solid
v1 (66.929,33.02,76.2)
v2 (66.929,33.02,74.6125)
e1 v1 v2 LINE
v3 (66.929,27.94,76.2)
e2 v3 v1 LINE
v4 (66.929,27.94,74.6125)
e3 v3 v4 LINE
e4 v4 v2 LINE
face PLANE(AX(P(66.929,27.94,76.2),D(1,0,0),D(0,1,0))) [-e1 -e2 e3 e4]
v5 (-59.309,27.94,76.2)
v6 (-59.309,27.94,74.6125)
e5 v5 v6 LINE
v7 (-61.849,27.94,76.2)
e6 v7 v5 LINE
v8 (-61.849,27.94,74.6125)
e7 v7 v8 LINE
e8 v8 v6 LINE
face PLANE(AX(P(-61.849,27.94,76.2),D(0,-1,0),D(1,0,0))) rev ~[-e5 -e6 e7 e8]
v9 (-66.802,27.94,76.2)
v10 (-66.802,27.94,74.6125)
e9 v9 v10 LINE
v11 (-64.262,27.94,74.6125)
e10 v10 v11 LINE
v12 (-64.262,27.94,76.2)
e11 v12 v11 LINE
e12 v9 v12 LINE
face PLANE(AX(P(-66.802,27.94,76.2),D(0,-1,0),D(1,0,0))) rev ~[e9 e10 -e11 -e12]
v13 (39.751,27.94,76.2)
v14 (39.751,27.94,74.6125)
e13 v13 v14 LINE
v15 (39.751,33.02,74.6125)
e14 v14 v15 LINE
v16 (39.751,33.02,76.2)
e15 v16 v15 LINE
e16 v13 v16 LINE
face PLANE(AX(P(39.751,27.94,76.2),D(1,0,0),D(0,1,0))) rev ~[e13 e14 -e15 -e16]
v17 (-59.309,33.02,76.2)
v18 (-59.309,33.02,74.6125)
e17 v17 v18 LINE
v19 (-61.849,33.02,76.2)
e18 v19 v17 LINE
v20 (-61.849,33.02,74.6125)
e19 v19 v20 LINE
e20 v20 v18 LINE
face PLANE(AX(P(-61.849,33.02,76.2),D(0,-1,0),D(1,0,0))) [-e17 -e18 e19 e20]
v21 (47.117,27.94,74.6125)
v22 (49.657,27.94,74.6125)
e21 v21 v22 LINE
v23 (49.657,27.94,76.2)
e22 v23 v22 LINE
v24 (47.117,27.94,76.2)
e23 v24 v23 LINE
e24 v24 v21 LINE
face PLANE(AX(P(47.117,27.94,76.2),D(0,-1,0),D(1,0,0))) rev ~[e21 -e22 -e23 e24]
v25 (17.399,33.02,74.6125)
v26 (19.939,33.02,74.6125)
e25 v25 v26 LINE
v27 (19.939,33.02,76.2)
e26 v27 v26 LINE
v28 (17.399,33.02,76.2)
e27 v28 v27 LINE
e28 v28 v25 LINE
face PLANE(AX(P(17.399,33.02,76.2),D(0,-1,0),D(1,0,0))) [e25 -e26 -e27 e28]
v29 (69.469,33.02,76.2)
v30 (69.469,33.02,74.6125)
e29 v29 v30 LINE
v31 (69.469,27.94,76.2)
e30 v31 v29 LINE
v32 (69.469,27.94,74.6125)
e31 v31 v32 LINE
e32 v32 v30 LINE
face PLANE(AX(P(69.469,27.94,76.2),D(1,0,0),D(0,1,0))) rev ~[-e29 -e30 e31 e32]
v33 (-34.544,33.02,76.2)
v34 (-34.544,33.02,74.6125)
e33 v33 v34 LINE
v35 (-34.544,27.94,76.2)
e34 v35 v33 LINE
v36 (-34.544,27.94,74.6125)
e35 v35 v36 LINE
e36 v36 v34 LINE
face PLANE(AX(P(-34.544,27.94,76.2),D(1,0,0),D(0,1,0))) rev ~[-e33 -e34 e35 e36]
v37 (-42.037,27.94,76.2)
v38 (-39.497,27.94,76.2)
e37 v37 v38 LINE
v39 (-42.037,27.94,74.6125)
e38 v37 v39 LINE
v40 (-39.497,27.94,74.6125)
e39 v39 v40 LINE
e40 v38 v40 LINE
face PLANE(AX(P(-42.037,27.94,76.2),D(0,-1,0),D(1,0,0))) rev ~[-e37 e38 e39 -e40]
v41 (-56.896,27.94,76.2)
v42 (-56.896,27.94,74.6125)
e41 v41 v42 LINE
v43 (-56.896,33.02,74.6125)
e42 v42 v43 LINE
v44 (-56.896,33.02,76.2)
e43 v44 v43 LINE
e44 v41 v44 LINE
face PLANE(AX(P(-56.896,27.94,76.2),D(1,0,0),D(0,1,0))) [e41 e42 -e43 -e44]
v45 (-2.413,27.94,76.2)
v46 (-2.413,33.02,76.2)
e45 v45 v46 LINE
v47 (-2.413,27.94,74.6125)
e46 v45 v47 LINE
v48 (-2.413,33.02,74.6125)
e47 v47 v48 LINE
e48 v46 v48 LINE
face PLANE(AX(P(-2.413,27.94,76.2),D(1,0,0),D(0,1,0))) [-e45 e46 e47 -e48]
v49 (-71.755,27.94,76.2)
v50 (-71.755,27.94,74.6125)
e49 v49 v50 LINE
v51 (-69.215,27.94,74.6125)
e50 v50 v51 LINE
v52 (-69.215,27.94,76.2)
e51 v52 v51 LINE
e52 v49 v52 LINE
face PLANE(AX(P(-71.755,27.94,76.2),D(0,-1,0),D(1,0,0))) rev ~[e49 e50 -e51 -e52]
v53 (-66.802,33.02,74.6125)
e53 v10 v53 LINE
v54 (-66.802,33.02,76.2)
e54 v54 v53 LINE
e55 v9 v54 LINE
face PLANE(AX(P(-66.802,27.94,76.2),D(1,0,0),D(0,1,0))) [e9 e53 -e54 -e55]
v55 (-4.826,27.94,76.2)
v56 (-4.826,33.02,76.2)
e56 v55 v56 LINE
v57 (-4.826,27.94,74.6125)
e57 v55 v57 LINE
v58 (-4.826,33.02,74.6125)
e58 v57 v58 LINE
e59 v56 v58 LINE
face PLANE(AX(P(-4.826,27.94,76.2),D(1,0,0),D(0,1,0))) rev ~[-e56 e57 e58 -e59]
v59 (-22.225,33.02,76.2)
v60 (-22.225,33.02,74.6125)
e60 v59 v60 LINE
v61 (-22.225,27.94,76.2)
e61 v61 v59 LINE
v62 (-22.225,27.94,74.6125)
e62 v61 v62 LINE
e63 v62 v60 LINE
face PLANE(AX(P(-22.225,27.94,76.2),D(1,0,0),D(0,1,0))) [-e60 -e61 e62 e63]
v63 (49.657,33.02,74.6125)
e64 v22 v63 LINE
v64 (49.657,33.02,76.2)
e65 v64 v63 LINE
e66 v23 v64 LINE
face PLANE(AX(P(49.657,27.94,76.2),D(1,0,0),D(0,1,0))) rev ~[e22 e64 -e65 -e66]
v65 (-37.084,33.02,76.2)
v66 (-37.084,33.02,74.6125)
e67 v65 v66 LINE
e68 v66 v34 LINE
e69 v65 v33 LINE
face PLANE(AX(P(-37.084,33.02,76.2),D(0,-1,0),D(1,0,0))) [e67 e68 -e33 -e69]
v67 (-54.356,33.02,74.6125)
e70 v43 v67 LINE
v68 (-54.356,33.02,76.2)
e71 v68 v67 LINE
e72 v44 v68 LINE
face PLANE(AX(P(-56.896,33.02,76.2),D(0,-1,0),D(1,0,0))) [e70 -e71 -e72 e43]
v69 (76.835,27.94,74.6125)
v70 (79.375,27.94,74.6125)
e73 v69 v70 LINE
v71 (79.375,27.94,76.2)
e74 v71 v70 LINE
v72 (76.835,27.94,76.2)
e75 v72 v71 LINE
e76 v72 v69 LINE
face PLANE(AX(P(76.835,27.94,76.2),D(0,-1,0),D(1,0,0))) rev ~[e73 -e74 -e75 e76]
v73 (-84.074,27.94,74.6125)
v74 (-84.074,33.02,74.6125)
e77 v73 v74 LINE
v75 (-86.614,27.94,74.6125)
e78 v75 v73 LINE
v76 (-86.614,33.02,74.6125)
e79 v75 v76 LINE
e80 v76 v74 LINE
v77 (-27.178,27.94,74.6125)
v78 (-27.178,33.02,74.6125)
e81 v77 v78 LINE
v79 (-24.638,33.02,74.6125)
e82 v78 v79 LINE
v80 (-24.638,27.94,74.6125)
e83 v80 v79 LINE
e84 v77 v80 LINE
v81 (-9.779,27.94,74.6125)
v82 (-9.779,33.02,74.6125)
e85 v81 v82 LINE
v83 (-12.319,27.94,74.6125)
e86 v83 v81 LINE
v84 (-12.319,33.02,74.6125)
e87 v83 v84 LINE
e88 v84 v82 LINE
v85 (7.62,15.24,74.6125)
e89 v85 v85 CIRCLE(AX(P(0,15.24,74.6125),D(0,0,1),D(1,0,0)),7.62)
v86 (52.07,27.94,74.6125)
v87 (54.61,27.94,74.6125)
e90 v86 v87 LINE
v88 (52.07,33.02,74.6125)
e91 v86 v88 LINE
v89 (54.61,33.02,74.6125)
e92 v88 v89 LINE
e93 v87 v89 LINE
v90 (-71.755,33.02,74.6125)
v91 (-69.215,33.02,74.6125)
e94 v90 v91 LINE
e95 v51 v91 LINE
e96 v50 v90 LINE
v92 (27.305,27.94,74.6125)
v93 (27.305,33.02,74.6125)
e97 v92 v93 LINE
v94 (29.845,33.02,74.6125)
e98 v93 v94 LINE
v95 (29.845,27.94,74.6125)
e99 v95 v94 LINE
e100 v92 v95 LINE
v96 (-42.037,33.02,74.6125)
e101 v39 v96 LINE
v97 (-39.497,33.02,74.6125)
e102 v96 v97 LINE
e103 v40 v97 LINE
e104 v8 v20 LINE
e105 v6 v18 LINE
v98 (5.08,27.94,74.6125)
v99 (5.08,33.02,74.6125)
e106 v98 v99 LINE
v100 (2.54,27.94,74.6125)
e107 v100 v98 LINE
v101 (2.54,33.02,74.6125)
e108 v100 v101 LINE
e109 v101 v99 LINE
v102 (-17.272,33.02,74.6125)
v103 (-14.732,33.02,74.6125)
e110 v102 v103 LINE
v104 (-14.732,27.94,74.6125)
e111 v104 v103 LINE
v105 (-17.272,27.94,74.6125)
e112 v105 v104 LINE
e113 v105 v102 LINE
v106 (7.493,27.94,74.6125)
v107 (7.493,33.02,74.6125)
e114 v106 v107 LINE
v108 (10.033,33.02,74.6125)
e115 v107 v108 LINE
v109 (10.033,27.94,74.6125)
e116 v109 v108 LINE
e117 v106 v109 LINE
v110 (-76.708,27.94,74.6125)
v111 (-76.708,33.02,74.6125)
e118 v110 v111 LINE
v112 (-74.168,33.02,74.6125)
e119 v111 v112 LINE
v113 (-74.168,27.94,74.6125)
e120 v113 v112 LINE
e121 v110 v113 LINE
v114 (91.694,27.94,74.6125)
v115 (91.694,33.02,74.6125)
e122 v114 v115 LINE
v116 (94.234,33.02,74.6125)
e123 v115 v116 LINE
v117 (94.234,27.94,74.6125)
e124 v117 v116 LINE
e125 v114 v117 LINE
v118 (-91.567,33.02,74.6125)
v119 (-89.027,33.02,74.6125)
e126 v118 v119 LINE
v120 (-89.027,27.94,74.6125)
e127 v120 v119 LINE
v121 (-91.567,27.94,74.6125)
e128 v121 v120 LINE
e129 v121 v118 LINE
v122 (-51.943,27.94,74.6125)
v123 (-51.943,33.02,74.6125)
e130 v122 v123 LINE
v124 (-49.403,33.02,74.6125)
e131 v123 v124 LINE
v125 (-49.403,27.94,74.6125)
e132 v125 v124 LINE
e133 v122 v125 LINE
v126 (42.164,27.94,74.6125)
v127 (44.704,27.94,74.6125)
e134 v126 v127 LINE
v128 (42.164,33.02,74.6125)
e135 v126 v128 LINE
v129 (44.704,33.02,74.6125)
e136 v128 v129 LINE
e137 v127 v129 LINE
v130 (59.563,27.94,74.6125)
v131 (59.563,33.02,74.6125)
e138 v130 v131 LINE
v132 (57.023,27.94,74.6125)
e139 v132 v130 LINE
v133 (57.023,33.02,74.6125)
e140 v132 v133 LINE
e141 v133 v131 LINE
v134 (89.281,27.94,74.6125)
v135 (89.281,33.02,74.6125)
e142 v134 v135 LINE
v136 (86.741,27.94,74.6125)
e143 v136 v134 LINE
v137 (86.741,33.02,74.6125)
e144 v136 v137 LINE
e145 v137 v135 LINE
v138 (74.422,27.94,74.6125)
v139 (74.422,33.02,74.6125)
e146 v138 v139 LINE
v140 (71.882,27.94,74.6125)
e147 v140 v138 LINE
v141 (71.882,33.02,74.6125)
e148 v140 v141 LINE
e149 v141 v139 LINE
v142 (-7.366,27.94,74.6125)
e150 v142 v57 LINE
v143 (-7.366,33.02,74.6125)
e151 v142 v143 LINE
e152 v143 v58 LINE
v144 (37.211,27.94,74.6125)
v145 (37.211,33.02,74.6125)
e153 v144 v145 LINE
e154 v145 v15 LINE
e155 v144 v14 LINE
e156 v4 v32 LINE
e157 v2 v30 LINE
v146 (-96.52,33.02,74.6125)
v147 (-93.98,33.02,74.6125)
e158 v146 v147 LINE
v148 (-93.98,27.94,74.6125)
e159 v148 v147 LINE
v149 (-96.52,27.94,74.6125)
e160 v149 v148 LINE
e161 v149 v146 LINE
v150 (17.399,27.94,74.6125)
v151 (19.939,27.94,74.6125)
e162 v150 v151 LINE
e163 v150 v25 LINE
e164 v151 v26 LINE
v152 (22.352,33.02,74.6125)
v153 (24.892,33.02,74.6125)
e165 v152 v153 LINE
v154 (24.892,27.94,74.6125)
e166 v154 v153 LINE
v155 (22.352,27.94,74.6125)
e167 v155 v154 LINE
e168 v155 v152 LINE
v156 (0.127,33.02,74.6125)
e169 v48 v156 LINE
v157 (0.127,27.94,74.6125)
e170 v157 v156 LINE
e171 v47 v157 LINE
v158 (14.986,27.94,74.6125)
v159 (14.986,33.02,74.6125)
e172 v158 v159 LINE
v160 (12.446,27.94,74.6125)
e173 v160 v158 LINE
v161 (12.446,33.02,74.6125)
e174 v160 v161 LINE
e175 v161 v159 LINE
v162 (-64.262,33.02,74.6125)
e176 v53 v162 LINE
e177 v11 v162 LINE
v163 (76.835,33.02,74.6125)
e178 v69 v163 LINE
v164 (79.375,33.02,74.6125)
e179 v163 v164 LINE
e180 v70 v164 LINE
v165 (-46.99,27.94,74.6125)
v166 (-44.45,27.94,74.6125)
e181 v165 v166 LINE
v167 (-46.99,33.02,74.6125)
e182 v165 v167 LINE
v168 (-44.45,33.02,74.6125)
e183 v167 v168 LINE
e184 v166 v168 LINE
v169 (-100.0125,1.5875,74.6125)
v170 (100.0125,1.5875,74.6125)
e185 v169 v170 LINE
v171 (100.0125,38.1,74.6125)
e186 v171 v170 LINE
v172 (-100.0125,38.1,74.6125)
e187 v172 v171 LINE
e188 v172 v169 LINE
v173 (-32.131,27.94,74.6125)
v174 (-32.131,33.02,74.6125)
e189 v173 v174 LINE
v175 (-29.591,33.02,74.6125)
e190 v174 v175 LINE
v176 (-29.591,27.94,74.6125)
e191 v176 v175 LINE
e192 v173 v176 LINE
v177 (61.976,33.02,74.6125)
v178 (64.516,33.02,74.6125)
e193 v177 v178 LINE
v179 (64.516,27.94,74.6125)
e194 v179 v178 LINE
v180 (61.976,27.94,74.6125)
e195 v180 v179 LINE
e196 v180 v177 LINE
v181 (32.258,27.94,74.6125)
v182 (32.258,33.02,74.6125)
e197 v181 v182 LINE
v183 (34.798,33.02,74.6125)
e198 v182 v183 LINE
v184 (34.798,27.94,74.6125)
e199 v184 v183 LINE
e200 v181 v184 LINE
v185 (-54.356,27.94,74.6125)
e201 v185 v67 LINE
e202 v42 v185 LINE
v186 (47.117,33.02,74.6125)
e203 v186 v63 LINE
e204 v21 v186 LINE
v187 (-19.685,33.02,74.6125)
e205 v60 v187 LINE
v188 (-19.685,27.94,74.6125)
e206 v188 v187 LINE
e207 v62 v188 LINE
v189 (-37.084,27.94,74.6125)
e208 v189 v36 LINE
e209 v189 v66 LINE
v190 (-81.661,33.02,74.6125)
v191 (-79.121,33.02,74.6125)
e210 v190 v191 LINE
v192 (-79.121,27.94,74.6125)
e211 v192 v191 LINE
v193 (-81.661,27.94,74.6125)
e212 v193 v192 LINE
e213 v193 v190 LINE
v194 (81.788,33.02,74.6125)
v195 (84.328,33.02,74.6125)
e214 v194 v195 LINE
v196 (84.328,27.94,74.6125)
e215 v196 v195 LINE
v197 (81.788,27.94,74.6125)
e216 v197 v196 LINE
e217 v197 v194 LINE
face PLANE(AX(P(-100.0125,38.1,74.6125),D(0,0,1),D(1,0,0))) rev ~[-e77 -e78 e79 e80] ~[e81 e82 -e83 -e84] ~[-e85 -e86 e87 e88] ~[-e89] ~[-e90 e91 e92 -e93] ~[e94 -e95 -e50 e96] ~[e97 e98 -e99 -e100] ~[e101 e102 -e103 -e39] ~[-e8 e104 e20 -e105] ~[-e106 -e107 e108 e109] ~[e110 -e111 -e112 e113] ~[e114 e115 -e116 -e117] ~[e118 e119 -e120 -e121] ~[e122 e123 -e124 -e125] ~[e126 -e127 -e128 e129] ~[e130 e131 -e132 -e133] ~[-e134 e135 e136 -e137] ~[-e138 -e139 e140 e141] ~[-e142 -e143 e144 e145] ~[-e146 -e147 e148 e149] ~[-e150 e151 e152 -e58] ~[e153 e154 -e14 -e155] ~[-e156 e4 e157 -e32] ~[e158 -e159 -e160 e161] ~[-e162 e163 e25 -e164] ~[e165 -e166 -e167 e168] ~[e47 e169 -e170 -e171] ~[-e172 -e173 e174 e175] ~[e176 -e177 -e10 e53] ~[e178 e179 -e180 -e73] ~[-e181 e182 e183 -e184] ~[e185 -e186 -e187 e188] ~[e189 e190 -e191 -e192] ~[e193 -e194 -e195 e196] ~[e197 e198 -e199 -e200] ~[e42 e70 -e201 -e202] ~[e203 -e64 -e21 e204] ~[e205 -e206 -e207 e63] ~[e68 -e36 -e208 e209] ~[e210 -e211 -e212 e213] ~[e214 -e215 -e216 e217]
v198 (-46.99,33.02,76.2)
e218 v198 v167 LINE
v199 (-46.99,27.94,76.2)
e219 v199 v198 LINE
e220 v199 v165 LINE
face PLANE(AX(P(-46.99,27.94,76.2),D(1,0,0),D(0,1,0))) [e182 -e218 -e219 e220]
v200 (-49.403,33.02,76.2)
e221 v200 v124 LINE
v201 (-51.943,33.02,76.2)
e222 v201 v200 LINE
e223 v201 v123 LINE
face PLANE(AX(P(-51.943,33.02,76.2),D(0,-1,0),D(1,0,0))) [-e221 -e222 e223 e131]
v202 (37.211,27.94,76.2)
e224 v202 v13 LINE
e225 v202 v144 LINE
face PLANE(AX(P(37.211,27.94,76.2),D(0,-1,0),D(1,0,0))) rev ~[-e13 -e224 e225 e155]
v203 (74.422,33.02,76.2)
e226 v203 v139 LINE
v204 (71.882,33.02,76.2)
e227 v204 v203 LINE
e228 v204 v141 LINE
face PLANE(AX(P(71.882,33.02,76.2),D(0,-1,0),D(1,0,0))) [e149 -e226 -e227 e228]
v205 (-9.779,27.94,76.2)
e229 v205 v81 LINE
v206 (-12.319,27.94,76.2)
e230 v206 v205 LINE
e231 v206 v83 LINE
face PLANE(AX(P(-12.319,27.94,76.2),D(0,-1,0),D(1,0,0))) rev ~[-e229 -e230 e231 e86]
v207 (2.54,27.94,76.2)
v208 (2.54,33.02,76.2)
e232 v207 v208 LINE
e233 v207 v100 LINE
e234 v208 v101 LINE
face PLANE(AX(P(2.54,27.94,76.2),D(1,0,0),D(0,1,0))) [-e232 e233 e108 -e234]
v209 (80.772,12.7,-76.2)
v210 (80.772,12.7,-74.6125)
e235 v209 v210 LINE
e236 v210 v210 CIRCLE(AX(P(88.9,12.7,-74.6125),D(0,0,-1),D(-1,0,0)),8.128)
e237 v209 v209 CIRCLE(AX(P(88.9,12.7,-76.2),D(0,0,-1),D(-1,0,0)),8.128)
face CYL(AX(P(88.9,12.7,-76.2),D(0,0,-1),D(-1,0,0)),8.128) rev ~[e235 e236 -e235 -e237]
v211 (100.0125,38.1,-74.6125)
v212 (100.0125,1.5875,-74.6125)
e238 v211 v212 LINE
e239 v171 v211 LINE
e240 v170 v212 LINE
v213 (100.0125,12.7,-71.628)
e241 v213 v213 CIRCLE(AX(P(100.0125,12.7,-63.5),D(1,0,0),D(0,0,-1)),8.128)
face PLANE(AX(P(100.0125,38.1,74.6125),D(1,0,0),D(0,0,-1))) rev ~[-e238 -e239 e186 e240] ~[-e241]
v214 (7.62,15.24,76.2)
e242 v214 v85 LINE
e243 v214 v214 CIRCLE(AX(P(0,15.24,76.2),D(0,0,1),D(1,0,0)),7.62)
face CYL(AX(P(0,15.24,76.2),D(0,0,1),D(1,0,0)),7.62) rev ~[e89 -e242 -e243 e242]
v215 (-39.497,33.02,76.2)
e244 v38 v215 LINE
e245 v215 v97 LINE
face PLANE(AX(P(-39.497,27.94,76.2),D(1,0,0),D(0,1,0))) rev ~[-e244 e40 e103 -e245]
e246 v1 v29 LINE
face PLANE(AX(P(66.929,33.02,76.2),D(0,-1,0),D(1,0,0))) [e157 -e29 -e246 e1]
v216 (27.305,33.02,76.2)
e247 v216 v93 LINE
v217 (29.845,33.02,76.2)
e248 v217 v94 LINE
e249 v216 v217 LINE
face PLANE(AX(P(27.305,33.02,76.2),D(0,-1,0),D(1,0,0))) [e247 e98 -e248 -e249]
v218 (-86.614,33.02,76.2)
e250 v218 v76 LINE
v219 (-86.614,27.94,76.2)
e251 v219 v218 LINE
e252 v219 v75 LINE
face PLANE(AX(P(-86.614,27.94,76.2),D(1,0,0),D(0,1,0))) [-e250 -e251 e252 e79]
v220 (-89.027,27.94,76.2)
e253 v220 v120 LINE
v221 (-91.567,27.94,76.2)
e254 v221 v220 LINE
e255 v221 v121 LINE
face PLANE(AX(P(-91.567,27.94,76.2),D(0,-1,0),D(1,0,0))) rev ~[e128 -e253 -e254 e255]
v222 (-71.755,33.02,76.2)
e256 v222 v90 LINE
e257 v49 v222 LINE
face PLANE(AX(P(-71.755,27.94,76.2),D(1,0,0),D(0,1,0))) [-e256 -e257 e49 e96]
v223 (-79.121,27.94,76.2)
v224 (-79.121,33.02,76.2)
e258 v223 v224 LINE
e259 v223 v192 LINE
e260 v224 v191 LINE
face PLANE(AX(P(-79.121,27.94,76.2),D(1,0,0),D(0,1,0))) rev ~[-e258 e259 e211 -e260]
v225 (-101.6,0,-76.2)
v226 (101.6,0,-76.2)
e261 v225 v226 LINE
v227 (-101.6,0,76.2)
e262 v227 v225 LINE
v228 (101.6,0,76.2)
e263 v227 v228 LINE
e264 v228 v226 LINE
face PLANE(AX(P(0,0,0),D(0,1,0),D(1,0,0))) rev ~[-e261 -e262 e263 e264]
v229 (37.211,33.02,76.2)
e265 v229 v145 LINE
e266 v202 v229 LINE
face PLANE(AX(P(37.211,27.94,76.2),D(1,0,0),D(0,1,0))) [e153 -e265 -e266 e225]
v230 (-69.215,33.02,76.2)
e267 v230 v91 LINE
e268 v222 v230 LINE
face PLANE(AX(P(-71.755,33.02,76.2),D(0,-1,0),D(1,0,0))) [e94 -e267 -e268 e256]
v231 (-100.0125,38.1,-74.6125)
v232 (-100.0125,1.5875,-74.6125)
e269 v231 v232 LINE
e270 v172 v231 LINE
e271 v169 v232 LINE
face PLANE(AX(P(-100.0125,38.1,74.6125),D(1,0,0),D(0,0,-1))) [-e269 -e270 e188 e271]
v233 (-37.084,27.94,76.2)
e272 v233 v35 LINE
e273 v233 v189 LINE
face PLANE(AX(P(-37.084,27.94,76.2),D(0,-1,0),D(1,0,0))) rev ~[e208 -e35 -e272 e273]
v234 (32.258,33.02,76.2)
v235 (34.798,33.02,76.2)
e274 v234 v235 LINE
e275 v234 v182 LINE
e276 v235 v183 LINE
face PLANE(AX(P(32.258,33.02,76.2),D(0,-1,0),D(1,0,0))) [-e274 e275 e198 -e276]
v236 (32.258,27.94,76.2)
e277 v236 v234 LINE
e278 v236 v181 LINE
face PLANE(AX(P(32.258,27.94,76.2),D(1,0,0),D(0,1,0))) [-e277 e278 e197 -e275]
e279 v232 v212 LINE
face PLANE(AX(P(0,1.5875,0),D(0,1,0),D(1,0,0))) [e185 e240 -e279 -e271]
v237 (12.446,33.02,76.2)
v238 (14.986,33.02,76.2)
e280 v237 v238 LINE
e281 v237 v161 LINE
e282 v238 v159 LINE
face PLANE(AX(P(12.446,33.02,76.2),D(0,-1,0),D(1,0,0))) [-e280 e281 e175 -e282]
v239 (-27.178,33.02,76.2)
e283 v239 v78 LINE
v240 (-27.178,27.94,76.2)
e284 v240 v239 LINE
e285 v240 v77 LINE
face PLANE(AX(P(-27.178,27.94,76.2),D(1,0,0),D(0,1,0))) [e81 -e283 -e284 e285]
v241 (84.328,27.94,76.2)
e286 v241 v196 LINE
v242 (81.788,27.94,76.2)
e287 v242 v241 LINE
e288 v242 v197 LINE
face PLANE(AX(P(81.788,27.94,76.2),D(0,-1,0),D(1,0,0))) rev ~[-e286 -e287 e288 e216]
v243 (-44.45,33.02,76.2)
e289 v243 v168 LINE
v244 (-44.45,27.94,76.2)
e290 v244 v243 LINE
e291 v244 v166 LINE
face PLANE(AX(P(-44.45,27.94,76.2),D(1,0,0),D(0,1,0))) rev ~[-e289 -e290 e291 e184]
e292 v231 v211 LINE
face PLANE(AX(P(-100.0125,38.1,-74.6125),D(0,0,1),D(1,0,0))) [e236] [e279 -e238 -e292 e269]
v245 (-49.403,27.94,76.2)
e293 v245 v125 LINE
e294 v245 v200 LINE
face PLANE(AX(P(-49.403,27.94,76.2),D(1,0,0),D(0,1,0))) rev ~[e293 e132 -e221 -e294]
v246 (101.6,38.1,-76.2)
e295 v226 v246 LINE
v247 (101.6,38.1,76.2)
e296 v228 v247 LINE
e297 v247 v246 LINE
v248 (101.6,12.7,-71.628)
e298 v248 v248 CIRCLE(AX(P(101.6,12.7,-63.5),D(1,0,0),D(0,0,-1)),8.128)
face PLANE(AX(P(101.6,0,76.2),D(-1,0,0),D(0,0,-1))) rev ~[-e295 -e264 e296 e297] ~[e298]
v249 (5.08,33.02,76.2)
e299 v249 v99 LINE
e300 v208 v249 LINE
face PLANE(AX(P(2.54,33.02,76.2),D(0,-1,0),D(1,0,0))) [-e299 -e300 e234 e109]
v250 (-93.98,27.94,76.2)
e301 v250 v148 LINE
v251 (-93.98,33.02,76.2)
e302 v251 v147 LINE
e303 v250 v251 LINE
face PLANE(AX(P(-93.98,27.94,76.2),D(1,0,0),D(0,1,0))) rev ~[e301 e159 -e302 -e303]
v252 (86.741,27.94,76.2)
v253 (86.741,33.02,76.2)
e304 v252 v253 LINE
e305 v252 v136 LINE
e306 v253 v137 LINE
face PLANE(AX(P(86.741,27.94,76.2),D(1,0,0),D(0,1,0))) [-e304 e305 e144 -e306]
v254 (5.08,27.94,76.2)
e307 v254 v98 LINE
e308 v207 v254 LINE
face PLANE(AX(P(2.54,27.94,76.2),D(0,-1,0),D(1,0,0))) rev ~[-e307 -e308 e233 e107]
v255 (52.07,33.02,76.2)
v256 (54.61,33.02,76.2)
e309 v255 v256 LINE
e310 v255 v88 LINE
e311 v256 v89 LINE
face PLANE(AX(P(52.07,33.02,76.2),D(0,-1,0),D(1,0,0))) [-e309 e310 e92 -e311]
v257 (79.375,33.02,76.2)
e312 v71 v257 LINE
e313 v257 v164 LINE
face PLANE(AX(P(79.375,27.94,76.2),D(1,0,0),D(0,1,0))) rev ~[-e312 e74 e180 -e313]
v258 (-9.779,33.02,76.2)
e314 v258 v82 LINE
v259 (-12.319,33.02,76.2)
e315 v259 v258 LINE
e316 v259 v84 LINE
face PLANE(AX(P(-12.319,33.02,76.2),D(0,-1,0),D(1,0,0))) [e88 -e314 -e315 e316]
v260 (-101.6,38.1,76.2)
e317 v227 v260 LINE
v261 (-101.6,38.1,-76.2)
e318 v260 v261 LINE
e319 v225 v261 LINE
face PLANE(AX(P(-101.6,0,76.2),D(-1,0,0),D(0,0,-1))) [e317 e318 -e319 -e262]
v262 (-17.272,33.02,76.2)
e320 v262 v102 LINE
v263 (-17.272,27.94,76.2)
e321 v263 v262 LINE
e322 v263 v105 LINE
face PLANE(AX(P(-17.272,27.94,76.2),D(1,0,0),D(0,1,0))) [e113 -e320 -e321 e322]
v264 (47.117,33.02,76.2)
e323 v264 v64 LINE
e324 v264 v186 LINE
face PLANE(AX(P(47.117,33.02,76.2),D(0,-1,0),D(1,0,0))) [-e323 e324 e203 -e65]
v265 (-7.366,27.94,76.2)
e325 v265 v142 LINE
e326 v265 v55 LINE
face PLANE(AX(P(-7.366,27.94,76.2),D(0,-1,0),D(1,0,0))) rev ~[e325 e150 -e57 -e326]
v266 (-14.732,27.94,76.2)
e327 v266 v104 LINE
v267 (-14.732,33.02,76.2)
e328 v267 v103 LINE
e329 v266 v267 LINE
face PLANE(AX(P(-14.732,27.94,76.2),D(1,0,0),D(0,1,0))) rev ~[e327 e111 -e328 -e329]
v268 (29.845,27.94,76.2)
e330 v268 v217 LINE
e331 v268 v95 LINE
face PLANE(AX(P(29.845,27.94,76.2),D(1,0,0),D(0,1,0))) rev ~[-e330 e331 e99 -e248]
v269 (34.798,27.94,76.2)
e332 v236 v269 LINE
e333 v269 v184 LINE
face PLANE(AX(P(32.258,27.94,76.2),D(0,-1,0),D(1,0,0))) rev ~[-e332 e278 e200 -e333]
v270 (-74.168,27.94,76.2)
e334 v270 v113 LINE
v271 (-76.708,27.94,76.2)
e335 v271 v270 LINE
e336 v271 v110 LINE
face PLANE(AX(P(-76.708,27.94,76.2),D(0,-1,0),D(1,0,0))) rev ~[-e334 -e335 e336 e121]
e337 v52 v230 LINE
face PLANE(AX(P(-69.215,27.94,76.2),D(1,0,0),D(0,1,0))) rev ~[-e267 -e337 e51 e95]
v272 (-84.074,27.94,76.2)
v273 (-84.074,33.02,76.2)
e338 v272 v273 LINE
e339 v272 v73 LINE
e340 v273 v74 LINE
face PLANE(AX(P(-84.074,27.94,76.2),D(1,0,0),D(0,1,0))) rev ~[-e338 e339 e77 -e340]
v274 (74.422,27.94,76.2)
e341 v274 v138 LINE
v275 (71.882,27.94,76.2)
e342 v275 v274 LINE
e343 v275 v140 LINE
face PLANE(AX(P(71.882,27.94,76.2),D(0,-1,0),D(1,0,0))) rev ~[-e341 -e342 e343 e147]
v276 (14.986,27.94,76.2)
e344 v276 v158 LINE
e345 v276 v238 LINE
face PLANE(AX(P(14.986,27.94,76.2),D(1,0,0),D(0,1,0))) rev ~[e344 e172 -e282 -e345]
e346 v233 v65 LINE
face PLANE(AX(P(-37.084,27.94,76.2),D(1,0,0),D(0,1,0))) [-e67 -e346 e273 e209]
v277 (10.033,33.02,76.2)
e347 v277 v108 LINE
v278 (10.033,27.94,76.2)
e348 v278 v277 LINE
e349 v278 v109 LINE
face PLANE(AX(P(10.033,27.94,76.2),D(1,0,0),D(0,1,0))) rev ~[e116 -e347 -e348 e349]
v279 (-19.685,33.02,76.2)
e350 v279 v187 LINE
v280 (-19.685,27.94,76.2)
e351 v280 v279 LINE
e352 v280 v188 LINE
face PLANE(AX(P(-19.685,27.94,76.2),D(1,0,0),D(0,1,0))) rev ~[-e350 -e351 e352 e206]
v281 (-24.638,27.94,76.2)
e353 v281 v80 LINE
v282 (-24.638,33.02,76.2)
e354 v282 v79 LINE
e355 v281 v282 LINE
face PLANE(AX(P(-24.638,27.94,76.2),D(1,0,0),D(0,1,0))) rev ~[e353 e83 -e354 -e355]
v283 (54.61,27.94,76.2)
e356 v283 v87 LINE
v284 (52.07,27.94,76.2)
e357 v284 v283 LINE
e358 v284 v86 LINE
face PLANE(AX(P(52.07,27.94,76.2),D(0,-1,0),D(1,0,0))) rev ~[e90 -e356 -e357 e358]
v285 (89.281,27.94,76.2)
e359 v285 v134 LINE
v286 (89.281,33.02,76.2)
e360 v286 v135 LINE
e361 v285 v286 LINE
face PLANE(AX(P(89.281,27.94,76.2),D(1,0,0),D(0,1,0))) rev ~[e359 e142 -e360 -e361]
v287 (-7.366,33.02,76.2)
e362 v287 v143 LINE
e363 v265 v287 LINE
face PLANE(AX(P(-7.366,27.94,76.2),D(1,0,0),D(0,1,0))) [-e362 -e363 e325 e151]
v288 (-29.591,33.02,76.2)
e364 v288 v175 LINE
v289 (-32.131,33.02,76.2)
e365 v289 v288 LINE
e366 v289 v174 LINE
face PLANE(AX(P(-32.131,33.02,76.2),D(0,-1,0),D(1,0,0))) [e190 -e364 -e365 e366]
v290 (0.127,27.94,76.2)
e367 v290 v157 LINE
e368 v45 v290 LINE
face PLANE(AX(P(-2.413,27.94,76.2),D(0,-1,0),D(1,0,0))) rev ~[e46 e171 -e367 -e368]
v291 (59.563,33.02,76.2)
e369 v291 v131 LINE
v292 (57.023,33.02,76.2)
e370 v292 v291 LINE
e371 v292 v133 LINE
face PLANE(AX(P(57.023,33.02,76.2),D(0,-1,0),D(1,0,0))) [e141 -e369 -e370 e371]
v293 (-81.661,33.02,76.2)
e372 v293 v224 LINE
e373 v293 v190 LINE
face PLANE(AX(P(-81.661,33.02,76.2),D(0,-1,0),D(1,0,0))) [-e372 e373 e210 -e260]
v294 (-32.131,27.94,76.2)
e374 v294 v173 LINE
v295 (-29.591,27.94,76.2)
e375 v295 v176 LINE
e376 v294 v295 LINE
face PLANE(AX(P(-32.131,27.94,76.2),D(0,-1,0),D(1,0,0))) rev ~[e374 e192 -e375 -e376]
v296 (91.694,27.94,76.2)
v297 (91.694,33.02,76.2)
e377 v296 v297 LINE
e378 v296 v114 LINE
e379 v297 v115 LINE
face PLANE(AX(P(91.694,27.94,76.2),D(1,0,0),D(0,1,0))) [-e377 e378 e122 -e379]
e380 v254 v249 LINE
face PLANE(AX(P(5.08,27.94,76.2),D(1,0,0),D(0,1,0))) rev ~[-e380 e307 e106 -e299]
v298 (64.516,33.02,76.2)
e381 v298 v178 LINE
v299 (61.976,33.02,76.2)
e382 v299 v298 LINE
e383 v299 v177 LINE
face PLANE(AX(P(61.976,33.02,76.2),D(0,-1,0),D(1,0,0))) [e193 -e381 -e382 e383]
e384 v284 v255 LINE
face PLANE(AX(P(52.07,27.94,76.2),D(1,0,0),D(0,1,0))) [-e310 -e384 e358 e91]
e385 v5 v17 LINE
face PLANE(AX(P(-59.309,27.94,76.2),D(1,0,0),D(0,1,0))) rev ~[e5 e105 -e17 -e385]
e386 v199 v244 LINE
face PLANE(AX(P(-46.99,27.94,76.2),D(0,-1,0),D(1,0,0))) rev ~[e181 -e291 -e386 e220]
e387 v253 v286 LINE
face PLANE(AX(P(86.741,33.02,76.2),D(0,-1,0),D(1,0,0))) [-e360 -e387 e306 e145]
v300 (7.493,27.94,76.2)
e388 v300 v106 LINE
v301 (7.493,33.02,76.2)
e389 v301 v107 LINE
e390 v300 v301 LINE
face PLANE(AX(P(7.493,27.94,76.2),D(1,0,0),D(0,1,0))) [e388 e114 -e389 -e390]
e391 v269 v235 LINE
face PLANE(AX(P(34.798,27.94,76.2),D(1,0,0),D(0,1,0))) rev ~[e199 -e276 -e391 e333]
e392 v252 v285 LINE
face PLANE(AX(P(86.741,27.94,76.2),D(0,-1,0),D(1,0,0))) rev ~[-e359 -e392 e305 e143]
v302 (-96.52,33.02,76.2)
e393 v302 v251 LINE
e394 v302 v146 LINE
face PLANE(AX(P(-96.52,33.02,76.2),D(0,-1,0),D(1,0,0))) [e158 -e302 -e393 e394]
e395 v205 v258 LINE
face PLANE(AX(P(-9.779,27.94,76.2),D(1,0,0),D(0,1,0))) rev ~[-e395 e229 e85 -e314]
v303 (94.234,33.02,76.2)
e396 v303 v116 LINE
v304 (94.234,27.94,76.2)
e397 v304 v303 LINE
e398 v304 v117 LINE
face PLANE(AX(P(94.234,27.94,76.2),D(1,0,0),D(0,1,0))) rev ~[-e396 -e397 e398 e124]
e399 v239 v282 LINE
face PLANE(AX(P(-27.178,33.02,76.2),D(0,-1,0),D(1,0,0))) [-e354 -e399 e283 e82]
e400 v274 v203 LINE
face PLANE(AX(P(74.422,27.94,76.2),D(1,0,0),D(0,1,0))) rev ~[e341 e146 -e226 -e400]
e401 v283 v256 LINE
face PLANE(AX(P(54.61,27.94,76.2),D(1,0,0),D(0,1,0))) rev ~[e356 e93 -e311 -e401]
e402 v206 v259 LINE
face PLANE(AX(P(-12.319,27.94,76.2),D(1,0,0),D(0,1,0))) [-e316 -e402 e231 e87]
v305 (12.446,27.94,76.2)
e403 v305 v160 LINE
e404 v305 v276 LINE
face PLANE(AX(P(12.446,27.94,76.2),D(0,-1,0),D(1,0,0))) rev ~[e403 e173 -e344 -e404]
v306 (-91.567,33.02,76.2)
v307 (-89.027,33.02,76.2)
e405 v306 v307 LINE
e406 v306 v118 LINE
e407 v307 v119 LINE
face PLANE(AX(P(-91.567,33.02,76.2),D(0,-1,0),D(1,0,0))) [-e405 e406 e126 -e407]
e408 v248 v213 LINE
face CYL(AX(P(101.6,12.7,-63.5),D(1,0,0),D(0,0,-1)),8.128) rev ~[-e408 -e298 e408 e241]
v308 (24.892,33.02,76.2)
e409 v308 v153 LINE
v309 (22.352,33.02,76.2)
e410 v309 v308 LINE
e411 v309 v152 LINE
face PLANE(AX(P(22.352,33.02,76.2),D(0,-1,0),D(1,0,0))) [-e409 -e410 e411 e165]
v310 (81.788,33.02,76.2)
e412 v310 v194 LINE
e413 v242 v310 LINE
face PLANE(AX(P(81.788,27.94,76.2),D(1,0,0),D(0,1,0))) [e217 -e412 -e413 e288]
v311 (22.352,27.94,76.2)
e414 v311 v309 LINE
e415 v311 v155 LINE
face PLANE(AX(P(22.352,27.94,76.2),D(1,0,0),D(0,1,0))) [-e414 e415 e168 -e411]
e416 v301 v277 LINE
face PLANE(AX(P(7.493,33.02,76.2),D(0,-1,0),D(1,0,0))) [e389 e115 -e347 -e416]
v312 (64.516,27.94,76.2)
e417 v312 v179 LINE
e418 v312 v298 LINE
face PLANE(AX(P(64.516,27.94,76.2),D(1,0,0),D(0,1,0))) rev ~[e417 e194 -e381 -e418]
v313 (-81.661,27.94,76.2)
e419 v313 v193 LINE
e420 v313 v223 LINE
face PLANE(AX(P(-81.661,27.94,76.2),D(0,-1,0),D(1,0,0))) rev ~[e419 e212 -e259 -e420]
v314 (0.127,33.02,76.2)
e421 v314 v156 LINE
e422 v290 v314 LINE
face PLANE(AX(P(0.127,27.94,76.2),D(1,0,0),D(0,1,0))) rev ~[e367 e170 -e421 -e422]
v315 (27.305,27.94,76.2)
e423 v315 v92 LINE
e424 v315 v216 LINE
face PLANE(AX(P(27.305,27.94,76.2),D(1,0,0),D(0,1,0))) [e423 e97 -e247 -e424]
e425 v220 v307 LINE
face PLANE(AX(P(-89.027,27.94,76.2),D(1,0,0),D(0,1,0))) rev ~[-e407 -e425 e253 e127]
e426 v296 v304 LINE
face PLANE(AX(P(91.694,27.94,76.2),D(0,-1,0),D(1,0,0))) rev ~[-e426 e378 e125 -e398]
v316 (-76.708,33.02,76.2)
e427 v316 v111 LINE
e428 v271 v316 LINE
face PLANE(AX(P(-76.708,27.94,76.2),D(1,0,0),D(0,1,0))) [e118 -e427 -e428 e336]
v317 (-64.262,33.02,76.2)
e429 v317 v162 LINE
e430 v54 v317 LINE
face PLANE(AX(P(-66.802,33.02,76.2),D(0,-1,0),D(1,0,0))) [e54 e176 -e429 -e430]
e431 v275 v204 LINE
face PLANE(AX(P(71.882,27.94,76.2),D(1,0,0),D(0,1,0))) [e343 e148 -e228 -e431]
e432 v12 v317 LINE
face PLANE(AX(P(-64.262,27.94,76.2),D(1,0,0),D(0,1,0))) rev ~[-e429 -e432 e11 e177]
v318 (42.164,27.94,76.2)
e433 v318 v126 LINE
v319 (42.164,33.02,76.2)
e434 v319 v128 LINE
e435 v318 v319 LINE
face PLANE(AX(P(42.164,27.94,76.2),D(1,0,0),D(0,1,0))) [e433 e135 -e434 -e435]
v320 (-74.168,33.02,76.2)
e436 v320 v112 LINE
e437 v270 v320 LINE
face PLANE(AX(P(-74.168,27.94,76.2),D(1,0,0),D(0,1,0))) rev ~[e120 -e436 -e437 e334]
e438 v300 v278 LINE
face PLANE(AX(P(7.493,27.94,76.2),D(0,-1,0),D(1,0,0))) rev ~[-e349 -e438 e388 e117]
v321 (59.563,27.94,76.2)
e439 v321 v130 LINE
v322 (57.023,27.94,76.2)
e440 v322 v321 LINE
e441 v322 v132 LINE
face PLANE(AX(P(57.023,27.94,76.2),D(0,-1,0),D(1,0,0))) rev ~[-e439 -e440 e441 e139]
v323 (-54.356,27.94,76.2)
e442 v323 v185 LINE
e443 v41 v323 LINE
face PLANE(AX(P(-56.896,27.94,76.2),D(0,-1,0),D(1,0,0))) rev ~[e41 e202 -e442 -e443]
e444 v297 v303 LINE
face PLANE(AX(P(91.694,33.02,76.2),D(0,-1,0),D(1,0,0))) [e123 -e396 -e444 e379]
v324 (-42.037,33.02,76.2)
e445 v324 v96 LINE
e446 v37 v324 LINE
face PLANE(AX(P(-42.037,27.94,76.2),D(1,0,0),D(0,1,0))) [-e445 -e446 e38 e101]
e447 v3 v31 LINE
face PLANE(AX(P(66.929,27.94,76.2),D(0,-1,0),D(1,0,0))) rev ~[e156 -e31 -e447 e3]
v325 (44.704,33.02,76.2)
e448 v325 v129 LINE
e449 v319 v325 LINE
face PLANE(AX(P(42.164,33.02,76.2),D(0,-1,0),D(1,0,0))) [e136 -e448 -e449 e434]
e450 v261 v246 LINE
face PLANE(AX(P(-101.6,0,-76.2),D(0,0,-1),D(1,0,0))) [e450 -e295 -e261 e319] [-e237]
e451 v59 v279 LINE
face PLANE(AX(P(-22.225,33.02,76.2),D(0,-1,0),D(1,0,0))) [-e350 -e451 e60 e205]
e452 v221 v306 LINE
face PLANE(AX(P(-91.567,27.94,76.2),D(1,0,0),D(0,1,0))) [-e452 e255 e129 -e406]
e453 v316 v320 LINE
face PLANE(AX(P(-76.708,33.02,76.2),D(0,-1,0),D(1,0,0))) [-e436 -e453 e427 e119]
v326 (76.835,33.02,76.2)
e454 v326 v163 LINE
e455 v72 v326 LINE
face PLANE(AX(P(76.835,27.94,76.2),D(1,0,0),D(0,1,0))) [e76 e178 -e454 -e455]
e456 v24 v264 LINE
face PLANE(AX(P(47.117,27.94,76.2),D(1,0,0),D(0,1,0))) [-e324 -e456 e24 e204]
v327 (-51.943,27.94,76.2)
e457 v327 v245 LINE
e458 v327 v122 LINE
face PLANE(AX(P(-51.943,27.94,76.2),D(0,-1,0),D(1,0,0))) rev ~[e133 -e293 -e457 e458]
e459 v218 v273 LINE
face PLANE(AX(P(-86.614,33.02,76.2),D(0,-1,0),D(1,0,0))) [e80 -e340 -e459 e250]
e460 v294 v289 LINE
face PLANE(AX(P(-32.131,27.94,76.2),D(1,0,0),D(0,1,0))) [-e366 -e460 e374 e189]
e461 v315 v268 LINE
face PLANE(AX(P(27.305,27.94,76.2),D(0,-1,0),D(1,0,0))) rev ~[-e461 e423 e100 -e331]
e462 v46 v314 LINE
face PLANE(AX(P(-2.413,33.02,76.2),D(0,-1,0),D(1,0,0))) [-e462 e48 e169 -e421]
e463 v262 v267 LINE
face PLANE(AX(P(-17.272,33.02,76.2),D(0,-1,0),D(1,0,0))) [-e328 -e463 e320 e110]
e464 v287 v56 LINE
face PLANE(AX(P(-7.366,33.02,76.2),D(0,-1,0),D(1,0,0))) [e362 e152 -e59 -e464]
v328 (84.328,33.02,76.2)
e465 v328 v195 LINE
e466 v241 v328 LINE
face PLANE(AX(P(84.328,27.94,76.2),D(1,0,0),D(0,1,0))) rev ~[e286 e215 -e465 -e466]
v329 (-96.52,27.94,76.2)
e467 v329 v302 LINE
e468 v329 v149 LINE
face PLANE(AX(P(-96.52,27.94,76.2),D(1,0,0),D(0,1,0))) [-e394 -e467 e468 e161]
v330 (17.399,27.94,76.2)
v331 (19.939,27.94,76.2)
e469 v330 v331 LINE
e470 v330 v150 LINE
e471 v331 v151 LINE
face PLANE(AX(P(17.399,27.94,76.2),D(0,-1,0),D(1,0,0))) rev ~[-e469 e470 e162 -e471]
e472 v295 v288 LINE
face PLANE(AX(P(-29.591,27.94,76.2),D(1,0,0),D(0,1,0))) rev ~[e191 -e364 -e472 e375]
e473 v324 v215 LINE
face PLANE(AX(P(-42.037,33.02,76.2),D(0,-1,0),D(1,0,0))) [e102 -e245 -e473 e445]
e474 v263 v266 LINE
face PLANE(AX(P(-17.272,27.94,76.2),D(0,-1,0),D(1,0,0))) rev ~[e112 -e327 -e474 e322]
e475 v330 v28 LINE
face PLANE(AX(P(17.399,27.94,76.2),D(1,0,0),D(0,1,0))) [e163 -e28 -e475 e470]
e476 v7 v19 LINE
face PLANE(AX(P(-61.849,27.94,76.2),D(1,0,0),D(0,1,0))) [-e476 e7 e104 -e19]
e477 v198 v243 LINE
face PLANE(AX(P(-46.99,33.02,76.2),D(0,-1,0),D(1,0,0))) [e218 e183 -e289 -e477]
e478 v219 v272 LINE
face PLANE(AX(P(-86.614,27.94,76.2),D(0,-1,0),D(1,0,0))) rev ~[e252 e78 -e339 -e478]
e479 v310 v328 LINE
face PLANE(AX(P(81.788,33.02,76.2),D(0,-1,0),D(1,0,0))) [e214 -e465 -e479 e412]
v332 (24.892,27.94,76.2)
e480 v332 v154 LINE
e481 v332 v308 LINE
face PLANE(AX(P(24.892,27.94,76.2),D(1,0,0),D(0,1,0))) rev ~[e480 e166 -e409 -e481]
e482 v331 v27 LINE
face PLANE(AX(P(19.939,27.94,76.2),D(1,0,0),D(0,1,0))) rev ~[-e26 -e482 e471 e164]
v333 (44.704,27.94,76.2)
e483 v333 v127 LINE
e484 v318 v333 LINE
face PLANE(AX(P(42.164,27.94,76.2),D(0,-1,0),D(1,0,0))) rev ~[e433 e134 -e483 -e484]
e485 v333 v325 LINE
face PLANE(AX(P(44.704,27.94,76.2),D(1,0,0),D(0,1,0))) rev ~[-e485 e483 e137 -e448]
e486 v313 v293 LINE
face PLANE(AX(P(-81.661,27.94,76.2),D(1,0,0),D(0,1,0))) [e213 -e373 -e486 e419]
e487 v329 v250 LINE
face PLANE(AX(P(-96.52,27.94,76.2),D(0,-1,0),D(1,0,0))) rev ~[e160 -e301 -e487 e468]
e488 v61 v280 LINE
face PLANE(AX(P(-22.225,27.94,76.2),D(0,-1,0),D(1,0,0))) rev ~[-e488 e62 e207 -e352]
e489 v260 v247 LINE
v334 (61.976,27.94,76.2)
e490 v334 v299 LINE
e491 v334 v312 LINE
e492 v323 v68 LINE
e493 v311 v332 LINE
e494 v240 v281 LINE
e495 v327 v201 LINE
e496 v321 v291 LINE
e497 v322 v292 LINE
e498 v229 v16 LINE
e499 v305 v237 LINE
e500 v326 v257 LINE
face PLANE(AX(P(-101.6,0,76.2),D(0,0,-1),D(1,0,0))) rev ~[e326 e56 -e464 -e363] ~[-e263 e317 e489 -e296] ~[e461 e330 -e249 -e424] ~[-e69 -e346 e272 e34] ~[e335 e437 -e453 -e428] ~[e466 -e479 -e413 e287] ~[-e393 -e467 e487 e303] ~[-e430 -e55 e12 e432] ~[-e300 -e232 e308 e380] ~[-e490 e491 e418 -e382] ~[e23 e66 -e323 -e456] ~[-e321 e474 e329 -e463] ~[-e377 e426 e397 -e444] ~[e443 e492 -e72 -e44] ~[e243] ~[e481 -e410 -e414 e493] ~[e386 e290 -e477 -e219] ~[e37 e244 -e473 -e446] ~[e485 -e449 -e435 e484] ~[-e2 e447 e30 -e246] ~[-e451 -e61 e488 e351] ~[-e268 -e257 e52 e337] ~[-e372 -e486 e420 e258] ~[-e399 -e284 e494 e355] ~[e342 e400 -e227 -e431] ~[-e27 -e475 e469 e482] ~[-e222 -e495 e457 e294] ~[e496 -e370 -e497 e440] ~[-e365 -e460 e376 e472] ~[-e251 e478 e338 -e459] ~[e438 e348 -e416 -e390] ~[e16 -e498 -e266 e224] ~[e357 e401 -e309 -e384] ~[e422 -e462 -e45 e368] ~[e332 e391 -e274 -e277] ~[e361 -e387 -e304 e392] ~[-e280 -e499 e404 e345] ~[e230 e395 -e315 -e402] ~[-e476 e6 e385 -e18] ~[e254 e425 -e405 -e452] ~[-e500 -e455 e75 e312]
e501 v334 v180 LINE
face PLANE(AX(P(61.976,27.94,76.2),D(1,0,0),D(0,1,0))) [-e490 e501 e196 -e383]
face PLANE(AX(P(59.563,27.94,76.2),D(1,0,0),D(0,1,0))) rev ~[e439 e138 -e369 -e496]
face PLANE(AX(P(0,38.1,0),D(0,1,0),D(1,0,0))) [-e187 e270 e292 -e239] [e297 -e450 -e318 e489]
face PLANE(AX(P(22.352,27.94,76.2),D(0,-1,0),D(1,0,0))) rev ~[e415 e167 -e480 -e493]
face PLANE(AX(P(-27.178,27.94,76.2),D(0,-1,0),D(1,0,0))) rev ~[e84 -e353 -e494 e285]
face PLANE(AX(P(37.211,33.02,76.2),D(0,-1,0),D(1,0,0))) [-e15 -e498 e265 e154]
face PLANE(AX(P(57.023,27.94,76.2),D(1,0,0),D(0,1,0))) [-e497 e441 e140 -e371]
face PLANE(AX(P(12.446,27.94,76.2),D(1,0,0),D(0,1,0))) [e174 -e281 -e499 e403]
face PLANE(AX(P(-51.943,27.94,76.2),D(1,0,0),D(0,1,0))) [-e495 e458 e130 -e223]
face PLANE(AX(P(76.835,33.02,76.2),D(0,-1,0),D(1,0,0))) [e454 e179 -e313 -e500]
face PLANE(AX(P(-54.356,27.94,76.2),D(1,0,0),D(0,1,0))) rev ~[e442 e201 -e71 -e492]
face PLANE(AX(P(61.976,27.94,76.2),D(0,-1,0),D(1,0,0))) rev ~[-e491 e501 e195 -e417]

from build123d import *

# Parameters (mm, degrees)
SKETCH1_W           = 203.2
SKETCH1_H           = 152.4
BOSS_EXTRUDE1_DEPTH = 38.1
SKETCH2_W           = 200.025
SKETCH2_H           = 149.225
CUT_EXTRUDE1_DEPTH  = 36.5125
SKETCH3_W           = 2.54
SKETCH3_H           = 5.08
CUT_EXTRUDE2_DEPTH  = 7.62
LPATTERN1_COUNT     = 39
LPATTERN1_PITCH     = 4.953
SKETCH4_R           = 7.62
CUT_EXTRUDE3_DEPTH  = 7.62
SKETCH5_R           = 8.128
CUT_EXTRUDE4_DEPTH  = 7.62
SKETCH6_R           = 8.128
CUT_EXTRUDE5_DEPTH  = 7.62


with BuildPart() as part:
    # Sketch1 → Boss-Extrude1 (new body)
    with BuildSketch(Plane(origin=(0, 0, 0), x_dir=(1, 0, 0), z_dir=(0, 1, 0))):
        Rectangle(SKETCH1_W, SKETCH1_H)
    extrude(amount=BOSS_EXTRUDE1_DEPTH)

    # Sketch2 → Cut-Extrude1 (cut)
    with BuildSketch(Plane(origin=(0, 38.1, 0), x_dir=(1, 0, 0), z_dir=(0, 1, 0))):
        Rectangle(SKETCH2_W, SKETCH2_H)
    extrude(amount=-CUT_EXTRUDE1_DEPTH, mode=Mode.SUBTRACT)

    # Sketch3 → Cut-Extrude2 (cut)
    with BuildSketch(Plane.XY.offset(76.2)):
        with Locations((-95.25, 30.48)):
            Rectangle(SKETCH3_W, SKETCH3_H)
    cut_extrude2 = extrude(amount=-CUT_EXTRUDE2_DEPTH, mode=Mode.SUBTRACT)

    # LPattern1: Cut-Extrude2 ×39
    with Locations(*[(i * LPATTERN1_PITCH, 0, 0) for i in range(1, LPATTERN1_COUNT)]):
        add(cut_extrude2, mode=Mode.SUBTRACT)

    # Sketch4 → Cut-Extrude3 (cut)
    with BuildSketch(Plane.XY.offset(76.2)):
        with Locations((0, 15.24)):
            Circle(SKETCH4_R)
    extrude(amount=-CUT_EXTRUDE3_DEPTH, mode=Mode.SUBTRACT)

    # Sketch5 → Cut-Extrude4 (cut)
    with BuildSketch(Plane(origin=(101.6, 0, 0), x_dir=(0, 0, -1), z_dir=(1, 0, 0))):
        with Locations((63.5, 12.7)):
            Circle(SKETCH5_R)
    extrude(amount=-CUT_EXTRUDE4_DEPTH, mode=Mode.SUBTRACT)

    # Sketch6 → Cut-Extrude5 (cut)
    with BuildSketch(Plane(origin=(0, 0, -76.2), x_dir=(-1, 0, 0), z_dir=(0, 0, -1))):
        with Locations((-88.9, 12.7)):
            Circle(SKETCH6_R)
    extrude(amount=-CUT_EXTRUDE5_DEPTH, mode=Mode.SUBTRACT)


solid = part.part
